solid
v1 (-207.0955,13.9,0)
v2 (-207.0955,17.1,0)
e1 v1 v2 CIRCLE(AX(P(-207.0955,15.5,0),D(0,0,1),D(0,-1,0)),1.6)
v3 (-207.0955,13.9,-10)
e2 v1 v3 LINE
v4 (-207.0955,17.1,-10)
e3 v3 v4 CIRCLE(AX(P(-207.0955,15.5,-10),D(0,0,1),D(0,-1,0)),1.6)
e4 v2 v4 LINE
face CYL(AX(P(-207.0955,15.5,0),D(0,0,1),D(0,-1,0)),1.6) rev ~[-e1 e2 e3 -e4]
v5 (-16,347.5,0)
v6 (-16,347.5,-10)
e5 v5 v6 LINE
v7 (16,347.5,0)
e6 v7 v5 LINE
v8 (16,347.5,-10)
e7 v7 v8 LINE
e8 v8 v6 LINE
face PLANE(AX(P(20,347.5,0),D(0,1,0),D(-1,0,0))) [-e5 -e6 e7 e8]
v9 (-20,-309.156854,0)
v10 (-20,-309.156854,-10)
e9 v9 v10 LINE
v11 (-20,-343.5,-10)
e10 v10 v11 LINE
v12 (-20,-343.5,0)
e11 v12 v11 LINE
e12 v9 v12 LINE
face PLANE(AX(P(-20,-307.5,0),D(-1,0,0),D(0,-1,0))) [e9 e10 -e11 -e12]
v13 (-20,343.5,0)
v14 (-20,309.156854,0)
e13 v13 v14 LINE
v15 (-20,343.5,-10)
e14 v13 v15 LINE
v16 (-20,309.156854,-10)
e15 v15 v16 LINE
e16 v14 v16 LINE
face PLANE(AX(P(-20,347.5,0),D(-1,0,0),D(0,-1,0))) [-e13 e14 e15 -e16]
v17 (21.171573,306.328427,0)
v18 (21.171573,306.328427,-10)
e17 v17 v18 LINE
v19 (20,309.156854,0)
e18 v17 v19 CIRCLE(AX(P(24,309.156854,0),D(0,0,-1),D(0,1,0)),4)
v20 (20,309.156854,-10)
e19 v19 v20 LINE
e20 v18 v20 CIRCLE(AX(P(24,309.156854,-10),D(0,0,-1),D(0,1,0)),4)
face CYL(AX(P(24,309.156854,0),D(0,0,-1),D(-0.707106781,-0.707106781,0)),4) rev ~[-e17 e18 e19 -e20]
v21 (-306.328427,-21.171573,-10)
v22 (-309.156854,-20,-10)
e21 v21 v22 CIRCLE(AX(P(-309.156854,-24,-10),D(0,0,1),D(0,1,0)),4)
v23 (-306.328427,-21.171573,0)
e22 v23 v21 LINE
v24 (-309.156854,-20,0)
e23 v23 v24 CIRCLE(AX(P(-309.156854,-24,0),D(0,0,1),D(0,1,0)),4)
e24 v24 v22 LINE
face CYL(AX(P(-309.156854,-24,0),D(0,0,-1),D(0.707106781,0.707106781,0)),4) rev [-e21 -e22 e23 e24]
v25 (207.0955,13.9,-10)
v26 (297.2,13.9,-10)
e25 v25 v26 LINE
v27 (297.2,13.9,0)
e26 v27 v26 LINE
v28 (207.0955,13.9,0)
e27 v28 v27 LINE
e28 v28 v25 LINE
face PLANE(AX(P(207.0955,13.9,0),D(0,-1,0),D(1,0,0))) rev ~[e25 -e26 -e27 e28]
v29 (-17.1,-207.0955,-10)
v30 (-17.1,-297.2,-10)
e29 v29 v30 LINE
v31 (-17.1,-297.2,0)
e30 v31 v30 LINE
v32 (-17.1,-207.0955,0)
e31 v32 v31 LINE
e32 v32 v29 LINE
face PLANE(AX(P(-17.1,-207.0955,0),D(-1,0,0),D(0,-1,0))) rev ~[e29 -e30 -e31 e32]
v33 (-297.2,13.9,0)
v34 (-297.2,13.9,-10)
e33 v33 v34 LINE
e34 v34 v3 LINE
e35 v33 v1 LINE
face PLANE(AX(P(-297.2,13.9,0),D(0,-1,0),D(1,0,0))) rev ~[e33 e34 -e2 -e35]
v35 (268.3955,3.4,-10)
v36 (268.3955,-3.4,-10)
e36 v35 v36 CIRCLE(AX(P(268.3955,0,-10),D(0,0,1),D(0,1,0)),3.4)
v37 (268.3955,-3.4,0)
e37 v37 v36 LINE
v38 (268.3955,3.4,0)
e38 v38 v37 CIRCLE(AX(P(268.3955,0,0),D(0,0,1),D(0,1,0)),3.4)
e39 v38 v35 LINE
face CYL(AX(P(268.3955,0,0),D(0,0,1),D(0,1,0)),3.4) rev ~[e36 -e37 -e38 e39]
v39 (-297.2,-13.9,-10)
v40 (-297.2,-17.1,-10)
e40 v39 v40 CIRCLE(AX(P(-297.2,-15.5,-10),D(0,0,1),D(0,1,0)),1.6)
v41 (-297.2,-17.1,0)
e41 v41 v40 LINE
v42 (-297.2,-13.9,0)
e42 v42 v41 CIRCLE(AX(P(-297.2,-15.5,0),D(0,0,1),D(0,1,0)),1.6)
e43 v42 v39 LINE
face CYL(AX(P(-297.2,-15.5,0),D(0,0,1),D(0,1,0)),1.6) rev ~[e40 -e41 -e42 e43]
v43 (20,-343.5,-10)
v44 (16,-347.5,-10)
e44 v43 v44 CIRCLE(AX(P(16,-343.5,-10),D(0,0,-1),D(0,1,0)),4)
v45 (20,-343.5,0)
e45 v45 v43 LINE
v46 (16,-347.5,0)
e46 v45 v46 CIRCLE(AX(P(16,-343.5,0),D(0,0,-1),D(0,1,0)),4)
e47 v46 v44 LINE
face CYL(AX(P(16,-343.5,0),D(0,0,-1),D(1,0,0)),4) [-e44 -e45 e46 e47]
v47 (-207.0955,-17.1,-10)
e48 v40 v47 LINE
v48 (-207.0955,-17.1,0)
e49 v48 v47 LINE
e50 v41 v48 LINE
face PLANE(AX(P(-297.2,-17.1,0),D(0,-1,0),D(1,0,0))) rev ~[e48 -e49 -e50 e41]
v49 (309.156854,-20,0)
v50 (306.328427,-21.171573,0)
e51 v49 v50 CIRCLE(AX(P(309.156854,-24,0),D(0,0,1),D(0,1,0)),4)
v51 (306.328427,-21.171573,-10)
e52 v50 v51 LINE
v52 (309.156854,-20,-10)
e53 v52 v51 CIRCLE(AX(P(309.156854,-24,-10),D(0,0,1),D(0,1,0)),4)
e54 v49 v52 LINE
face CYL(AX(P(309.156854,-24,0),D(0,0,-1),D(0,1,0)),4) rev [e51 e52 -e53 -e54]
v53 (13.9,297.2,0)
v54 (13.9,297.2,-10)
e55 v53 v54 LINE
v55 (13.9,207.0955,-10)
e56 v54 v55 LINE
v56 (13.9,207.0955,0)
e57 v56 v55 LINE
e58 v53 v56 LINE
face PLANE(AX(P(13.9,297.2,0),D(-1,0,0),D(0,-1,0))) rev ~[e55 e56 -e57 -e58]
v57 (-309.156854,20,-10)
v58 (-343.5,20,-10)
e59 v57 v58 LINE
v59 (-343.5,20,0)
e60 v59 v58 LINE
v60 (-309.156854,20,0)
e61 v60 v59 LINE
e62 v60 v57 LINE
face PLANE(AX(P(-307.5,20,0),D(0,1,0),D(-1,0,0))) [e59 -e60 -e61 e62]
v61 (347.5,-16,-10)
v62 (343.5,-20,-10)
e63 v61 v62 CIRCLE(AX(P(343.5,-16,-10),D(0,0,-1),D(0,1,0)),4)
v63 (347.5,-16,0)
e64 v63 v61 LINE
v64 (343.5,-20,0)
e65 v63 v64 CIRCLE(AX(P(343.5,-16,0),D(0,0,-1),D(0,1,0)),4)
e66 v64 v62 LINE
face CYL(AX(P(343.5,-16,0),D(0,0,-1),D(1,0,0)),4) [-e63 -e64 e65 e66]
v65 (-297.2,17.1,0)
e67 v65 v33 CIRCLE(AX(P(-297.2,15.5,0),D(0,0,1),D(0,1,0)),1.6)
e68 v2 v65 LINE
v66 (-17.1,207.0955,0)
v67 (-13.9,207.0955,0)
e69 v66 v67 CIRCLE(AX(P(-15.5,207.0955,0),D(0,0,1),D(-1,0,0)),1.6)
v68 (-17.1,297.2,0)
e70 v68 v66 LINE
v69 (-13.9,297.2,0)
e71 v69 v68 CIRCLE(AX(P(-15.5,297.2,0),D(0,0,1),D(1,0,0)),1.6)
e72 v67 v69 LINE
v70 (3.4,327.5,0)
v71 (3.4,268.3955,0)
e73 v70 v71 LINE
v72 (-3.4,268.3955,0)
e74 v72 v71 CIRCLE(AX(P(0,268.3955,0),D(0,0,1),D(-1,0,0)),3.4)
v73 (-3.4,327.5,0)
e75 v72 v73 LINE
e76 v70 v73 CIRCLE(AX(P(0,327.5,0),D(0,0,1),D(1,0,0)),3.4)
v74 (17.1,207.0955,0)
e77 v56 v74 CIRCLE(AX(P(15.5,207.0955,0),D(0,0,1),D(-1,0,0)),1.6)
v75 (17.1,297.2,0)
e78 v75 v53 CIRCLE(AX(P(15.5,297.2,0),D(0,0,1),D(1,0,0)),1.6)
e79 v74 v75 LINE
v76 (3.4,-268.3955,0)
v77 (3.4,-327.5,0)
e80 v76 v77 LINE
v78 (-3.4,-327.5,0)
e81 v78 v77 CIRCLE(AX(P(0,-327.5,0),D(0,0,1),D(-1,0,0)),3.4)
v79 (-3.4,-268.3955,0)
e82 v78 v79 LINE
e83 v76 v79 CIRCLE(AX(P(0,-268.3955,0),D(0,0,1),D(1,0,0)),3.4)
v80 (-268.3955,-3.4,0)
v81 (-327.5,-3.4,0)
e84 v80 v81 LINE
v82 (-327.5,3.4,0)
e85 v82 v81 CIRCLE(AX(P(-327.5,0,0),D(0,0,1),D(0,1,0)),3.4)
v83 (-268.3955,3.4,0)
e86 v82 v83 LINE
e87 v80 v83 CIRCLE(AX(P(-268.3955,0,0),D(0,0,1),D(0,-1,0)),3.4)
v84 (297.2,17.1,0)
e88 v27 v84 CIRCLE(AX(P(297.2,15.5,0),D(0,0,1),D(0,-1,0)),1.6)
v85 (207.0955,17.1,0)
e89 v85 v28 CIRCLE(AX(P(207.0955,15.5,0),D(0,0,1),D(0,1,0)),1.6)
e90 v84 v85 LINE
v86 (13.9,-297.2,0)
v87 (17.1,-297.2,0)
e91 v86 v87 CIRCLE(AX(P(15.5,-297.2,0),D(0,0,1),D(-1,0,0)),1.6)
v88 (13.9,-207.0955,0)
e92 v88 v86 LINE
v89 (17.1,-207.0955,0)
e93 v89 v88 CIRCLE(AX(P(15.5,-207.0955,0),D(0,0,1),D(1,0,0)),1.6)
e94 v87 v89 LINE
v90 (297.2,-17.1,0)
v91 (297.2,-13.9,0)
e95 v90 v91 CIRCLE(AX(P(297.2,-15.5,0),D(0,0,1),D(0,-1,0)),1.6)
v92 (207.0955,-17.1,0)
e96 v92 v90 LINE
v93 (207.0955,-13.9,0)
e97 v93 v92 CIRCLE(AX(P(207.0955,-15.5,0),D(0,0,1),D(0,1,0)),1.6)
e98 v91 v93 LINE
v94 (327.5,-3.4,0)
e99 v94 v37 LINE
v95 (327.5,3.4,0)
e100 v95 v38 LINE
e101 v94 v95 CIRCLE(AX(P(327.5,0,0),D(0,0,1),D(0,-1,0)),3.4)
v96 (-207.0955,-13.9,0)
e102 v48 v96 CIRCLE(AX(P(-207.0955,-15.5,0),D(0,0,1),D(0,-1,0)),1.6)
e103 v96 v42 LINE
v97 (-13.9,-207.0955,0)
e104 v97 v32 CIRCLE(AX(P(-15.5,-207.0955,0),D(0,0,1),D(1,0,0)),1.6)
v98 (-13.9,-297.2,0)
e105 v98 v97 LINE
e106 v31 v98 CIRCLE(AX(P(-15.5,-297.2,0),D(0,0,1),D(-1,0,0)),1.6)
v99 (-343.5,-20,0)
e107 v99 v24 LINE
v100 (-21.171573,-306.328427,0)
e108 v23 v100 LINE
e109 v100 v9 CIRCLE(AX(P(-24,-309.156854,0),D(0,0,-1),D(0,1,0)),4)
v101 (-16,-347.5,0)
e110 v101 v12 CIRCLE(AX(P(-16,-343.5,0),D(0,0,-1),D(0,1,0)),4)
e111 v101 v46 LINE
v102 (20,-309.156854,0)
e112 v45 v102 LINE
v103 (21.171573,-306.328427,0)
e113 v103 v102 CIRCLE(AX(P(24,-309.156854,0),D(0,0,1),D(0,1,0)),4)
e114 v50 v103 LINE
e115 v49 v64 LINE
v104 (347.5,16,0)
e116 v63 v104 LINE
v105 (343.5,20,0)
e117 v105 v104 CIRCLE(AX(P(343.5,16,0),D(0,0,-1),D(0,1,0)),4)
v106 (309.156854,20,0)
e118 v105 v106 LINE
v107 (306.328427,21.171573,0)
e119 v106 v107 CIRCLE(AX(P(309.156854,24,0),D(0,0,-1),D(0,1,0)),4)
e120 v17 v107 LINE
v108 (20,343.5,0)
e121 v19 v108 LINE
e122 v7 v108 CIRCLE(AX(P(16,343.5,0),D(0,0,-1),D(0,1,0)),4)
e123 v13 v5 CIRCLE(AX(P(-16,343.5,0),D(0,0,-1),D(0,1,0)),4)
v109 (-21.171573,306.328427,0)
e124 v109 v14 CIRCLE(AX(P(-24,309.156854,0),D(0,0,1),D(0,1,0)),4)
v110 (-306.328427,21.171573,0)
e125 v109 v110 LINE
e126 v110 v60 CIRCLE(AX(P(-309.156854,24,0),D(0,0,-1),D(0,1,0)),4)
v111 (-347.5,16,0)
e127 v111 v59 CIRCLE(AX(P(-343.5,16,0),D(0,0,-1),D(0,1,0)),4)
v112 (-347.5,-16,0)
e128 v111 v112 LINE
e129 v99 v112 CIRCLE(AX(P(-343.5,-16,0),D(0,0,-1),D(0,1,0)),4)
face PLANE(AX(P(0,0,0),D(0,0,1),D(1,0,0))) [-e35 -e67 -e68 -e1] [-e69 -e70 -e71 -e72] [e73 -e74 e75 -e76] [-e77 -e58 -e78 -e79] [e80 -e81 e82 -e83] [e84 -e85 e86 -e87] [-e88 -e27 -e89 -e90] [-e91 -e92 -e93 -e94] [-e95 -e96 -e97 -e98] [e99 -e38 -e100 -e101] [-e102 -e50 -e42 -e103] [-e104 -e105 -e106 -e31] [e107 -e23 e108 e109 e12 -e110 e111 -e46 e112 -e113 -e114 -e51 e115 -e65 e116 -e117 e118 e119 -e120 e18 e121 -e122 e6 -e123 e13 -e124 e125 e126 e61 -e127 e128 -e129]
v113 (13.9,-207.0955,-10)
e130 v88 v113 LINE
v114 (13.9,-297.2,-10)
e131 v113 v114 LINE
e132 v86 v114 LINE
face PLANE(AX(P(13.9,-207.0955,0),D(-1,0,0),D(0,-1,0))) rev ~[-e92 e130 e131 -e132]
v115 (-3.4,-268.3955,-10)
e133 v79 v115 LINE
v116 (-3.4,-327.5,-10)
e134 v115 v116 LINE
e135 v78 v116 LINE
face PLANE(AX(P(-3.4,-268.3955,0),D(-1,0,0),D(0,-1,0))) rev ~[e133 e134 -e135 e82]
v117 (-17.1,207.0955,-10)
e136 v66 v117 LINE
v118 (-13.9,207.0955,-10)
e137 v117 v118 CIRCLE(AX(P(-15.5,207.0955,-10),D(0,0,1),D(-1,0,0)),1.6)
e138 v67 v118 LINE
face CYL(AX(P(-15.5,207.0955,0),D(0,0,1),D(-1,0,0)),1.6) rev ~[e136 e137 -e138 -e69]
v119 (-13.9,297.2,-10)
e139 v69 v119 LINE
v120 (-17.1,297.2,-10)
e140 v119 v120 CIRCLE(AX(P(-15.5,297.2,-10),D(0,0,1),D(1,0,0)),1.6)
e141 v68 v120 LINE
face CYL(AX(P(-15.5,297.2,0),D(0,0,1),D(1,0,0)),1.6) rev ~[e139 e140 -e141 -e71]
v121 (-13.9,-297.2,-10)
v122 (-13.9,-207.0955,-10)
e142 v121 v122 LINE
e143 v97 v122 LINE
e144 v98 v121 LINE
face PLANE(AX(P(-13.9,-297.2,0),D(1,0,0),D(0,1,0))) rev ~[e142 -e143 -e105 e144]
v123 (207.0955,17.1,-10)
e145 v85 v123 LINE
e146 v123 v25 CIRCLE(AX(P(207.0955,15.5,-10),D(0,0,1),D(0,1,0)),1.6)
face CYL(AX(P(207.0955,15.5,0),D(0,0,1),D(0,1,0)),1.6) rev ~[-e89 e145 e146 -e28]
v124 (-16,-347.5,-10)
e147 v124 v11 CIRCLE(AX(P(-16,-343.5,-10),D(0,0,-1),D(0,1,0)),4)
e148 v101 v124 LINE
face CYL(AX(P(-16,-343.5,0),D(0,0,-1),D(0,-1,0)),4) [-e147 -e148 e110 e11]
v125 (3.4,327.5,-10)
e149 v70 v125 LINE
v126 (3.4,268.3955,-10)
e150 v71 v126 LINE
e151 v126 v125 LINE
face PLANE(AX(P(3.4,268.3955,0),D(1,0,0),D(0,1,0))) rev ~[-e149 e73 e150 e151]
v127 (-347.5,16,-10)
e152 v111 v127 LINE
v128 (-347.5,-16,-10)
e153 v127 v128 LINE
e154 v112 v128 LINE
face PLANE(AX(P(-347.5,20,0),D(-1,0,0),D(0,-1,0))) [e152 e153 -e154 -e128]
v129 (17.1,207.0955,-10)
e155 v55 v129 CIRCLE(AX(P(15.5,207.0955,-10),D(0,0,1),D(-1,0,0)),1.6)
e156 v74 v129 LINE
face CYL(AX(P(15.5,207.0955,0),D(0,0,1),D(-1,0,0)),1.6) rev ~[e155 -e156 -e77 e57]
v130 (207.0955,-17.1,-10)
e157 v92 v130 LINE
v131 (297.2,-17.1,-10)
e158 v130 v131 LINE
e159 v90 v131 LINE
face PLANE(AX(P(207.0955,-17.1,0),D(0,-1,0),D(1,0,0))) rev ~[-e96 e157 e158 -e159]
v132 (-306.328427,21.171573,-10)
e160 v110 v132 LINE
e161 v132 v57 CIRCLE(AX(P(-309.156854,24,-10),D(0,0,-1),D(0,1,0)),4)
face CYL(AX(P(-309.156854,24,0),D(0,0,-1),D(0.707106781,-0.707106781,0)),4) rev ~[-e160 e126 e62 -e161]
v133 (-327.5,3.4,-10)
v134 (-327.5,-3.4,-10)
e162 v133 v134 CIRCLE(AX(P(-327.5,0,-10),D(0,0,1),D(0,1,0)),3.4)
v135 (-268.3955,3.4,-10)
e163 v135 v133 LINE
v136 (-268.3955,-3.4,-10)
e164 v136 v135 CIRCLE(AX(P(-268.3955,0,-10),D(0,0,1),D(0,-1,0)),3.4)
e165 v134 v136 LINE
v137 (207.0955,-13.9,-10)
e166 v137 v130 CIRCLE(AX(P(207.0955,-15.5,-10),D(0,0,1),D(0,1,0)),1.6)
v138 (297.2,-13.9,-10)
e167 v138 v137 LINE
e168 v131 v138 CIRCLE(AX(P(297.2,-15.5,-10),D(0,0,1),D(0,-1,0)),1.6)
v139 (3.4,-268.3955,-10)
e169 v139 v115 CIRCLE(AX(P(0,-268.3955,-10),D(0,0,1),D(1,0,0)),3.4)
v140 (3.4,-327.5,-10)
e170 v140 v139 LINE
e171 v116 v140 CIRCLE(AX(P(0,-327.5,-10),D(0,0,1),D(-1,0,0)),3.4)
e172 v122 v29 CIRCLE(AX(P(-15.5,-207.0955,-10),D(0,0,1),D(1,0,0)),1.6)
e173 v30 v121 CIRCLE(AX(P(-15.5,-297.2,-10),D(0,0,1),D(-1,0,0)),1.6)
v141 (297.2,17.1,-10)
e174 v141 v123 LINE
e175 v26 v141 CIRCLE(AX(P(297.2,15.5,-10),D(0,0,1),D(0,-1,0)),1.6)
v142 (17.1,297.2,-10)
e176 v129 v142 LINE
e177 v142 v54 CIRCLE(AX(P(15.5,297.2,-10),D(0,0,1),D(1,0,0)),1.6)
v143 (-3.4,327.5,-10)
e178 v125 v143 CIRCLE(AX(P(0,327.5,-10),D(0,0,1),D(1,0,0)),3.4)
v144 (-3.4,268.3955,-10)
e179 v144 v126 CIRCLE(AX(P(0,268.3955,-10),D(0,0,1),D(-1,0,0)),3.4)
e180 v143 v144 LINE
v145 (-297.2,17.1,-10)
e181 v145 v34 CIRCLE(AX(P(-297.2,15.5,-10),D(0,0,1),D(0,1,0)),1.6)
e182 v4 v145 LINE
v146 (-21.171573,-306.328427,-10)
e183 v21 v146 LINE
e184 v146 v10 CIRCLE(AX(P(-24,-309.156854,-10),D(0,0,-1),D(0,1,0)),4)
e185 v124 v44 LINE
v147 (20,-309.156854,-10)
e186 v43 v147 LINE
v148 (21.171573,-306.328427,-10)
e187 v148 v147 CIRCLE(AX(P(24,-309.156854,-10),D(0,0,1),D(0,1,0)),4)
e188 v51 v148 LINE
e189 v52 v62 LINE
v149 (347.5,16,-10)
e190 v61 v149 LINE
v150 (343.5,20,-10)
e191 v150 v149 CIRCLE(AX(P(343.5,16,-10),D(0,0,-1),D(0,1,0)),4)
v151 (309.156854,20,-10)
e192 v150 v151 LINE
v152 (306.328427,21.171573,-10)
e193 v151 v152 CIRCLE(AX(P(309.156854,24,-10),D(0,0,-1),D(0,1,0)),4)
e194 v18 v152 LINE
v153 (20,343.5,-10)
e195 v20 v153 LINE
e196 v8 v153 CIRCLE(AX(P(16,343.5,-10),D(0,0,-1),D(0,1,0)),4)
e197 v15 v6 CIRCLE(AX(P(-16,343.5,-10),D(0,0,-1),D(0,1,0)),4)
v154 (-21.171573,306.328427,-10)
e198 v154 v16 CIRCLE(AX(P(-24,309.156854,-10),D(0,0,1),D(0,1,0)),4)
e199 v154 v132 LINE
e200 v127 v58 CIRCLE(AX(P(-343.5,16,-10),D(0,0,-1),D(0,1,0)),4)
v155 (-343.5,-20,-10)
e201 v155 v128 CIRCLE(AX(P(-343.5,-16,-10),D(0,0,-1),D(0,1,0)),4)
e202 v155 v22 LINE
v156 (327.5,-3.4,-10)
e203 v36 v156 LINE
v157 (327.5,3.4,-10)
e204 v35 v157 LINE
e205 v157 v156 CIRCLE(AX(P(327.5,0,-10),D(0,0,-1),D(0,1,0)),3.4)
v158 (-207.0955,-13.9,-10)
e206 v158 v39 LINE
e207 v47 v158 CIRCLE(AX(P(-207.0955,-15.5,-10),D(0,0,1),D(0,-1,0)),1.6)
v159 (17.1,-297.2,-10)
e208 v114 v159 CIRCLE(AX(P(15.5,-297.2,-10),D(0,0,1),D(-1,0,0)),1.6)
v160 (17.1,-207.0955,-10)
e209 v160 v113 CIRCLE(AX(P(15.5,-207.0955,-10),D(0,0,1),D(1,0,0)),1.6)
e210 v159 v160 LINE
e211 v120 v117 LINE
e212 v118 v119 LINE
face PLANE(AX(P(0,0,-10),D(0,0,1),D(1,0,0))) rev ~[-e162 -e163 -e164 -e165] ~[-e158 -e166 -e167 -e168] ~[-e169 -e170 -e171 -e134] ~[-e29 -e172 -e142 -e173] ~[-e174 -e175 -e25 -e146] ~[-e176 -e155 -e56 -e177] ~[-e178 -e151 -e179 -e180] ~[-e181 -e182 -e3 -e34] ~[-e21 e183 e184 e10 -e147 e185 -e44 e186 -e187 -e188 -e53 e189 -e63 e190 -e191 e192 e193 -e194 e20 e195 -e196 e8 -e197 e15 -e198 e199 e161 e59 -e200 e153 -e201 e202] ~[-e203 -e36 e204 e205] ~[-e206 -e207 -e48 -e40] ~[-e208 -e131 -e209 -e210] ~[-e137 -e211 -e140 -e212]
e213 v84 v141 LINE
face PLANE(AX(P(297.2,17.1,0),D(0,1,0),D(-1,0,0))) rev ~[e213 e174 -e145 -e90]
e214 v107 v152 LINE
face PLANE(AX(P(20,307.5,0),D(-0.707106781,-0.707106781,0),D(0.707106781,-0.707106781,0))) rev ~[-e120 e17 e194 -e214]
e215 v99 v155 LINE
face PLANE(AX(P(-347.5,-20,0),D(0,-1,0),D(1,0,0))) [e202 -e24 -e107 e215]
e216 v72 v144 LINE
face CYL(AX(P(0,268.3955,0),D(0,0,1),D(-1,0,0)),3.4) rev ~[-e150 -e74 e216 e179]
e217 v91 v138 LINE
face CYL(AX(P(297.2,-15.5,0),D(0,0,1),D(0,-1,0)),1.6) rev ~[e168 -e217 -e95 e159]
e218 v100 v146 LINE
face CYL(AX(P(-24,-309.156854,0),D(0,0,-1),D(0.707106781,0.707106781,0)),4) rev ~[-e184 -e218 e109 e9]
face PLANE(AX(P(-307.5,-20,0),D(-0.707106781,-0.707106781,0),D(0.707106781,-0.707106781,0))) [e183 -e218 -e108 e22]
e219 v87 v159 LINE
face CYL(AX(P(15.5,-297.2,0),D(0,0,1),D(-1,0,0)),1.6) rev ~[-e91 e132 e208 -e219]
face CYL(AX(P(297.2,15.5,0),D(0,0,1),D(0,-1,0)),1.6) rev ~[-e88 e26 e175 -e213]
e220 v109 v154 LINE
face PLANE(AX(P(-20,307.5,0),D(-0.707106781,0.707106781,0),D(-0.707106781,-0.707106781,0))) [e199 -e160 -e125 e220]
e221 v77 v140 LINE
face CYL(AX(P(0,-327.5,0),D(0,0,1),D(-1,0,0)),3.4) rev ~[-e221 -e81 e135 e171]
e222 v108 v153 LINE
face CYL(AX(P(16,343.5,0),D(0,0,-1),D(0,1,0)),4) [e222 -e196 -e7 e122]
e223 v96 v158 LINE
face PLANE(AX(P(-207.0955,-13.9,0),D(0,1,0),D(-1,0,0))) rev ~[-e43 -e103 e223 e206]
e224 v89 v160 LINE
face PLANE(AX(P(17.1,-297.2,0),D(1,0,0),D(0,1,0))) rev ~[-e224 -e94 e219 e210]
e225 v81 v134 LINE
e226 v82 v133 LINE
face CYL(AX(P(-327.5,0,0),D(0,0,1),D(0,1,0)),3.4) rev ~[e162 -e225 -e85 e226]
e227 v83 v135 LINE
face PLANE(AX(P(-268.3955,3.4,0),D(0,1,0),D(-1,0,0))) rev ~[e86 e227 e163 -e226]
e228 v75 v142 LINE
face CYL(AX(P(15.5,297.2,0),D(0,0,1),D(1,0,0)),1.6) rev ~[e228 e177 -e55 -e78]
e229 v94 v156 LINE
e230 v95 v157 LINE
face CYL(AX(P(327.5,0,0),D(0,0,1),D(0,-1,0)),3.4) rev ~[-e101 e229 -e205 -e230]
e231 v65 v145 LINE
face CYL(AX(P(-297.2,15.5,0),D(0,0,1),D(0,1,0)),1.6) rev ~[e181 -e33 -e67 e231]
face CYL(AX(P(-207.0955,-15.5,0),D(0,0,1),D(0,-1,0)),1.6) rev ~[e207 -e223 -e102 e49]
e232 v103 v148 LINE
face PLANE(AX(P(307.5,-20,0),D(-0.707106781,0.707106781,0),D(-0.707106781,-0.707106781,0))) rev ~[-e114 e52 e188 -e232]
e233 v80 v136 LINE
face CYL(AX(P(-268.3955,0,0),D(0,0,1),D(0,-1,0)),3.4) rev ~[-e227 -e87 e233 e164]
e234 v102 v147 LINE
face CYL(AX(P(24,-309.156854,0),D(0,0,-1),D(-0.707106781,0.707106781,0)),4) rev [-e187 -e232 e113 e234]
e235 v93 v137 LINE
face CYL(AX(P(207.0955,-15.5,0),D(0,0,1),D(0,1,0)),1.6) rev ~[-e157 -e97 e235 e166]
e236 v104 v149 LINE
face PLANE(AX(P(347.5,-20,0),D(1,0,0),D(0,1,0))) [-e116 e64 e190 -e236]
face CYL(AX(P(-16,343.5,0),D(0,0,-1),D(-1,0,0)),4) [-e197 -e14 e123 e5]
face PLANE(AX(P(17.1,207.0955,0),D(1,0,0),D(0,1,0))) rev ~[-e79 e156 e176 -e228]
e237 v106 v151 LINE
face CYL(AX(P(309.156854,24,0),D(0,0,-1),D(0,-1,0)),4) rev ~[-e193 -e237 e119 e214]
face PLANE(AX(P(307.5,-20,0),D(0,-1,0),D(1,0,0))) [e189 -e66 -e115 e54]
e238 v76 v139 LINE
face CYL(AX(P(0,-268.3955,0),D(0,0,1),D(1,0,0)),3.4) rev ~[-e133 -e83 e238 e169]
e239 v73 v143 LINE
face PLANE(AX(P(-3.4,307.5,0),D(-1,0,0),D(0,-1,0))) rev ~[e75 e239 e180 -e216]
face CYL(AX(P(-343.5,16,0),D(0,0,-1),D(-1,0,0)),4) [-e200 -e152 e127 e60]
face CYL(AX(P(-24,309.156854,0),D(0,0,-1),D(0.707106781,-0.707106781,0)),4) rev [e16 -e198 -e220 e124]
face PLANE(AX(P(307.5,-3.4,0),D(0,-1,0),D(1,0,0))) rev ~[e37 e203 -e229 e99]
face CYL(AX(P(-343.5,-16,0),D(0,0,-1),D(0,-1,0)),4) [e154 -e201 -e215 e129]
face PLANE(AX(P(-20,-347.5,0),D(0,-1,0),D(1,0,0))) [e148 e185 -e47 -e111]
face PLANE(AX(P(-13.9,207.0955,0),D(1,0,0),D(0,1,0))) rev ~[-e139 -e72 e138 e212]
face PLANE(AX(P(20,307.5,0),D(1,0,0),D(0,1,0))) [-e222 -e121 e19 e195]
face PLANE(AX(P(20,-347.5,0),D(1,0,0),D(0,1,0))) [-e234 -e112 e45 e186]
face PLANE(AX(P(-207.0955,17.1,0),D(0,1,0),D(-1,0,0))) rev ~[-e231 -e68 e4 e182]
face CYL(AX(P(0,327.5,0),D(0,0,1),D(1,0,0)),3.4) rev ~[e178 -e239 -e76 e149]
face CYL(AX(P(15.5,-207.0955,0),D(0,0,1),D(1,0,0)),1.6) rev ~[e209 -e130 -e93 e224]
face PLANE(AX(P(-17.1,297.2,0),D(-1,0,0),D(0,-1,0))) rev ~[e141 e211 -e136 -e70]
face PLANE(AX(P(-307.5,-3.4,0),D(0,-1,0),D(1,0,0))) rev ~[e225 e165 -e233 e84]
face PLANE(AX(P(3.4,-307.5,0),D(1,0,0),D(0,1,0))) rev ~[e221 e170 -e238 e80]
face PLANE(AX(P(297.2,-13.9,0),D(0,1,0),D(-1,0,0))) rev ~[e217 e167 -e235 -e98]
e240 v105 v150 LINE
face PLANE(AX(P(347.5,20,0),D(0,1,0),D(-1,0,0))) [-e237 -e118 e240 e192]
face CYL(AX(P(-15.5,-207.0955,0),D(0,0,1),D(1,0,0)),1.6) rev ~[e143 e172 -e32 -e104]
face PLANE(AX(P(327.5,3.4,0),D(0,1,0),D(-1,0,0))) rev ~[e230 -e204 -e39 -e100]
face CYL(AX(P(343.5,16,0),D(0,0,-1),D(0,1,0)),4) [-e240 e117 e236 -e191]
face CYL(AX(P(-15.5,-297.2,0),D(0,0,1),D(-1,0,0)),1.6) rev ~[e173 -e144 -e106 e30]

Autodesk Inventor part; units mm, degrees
ref_plane "YZ Plane" through (0, 0, 0) normal (1, 0, 0) x (0, 1, 0)
ref_plane "XZ Plane" through (0, 0, 0) normal (0, 1, 0) x (-1, 0, 0)
ref_plane "XY Plane" through (0, 0, 0) normal (0, 0, 1) x (1, 0, 0)
sketch "Sketch2" plane through (0, 0, 0) normal (0, 0, 1) x (1, 0, 0)
  circle A0 centre (0, 0) radius 327.5 construction
  line L0 (260.6, -21.1) -> (302.8, -21.1) construction
  line L1 (302.8, -21.1) -> (302.8, 21.1) construction
  line L2 (302.8, 21.1) -> (260.6, 21.1) construction
  line L3 (260.6, 21.1) -> (260.6, -21.1) construction
  line L4 (260.6, -21.1) -> (302.8, 21.1) construction
  line L5 (302.8, -21.1) -> (260.6, 21.1) construction
  line L6 (297.2, 15.5) -> (207.0955, 15.5) construction
  line L7 (297.2, 17.1) -> (207.0955, 17.1)
  line L8 (207.0955, 13.9) -> (297.2, 13.9)
  arc A1 (297.2, 13.9) -> (297.2, 17.1) centre (297.2, 15.5) ccw
  arc A2 (207.0955, 17.1) -> (207.0955, 13.9) centre (207.0955, 15.5) ccw
  line L9 (297.2, -15.5) -> (207.0955, -15.5) construction
  line L10 (297.2, -13.9) -> (207.0955, -13.9)
  line L11 (207.0955, -17.1) -> (297.2, -17.1)
  arc A3 (297.2, -17.1) -> (297.2, -13.9) centre (297.2, -15.5) ccw
  arc A4 (207.0955, -13.9) -> (207.0955, -17.1) centre (207.0955, -15.5) ccw
  line L12 (327.5, 0) -> (268.3955, 0) construction
  line L13 (327.5, 3.4) -> (268.3955, 3.4)
  line L14 (268.3955, -3.4) -> (327.5, -3.4)
  arc A5 (327.5, -3.4) -> (327.5, 3.4) centre (327.5, 0) ccw
  arc A6 (268.3955, 3.4) -> (268.3955, -3.4) centre (268.3955, 0) ccw
  line L15 (307.5, -20) -> (347.5, -20)
  line L16 (347.5, -20) -> (347.5, 20)
  line L17 (347.5, 20) -> (307.5, 20)
  line L18 (307.5, 20) -> (307.5, -20)
  line L19 (307.5, -20) -> (347.5, 20) construction
  line L20 (347.5, -20) -> (307.5, 20) construction
  circle A7 centre (327.5, 0) radius 3.4
  arc A8 (-3.4, 268.3955) -> (3.4, 268.3955) centre (0, 268.3955) ccw
  line L21 (-13.9, 207.0955) -> (-13.9, 297.2)
  line L22 (-17.1, 297.2) -> (-17.1, 207.0955)
  line L23 (-15.5, 297.2) -> (-15.5, 207.0955) construction
  line L24 (17.1, 207.0955) -> (17.1, 297.2)
  line L25 (15.5, 297.2) -> (15.5, 207.0955) construction
  line L26 (13.9, 297.2) -> (13.9, 207.0955)
  arc A9 (-17.1, 207.0955) -> (-13.9, 207.0955) centre (-15.5, 207.0955) ccw
  arc A10 (13.9, 207.0955) -> (17.1, 207.0955) centre (15.5, 207.0955) ccw
  line L27 (21.1, 302.8) -> (-21.1, 302.8) construction
  arc A11 (-13.9, 297.2) -> (-17.1, 297.2) centre (-15.5, 297.2) ccw
  arc A12 (17.1, 297.2) -> (13.9, 297.2) centre (15.5, 297.2) ccw
  line L28 (0, 327.5) -> (0, 268.3955) construction
  line L29 (-3.4, 327.5) -> (-3.4, 268.3955)
  line L30 (3.4, 268.3955) -> (3.4, 327.5)
  line L31 (21.1, 260.6) -> (21.1, 302.8) construction
  line L32 (21.1, 302.8) -> (-21.1, 260.6) construction
  line L33 (-21.1, 260.6) -> (21.1, 260.6) construction
  line L34 (21.1, 260.6) -> (-21.1, 302.8) construction
  line L35 (-21.1, 302.8) -> (-21.1, 260.6) construction
  line L36 (-20, 307.5) -> (20, 307.5)
  arc A13 (3.4, 327.5) -> (-3.4, 327.5) centre (0, 327.5) ccw
  circle A14 centre (0, 327.5) radius 3.4
  line L37 (20, 307.5) -> (20, 347.5)
  line L38 (-20, 347.5) -> (-20, 307.5)
  line L39 (20, 307.5) -> (-20, 347.5) construction
  line L40 (20, 347.5) -> (-20, 307.5) construction
  line L41 (20, 347.5) -> (-20, 347.5)
  arc A15 (-268.3955, -3.4) -> (-268.3955, 3.4) centre (-268.3955, 0) ccw
  line L42 (-207.0955, -13.9) -> (-297.2, -13.9)
  line L43 (-297.2, -17.1) -> (-207.0955, -17.1)
  line L44 (-297.2, -15.5) -> (-207.0955, -15.5) construction
  line L45 (-207.0955, 17.1) -> (-297.2, 17.1)
  line L46 (-297.2, 15.5) -> (-207.0955, 15.5) construction
  line L47 (-297.2, 13.9) -> (-207.0955, 13.9)
  arc A16 (-207.0955, -17.1) -> (-207.0955, -13.9) centre (-207.0955, -15.5) ccw
  arc A17 (-207.0955, 13.9) -> (-207.0955, 17.1) centre (-207.0955, 15.5) ccw
  line L48 (-302.8, 21.1) -> (-302.8, -21.1) construction
  arc A18 (-297.2, -13.9) -> (-297.2, -17.1) centre (-297.2, -15.5) ccw
  arc A19 (-297.2, 17.1) -> (-297.2, 13.9) centre (-297.2, 15.5) ccw
  line L49 (-327.5, 0) -> (-268.3955, 0) construction
  line L50 (-327.5, -3.4) -> (-268.3955, -3.4)
  line L51 (-268.3955, 3.4) -> (-327.5, 3.4)
  line L52 (-260.6, 21.1) -> (-302.8, 21.1) construction
  line L53 (-302.8, 21.1) -> (-260.6, -21.1) construction
  line L54 (-260.6, -21.1) -> (-260.6, 21.1) construction
  line L55 (-260.6, 21.1) -> (-302.8, -21.1) construction
  line L56 (-302.8, -21.1) -> (-260.6, -21.1) construction
  line L57 (-307.5, -20) -> (-307.5, 20)
  arc A20 (-327.5, 3.4) -> (-327.5, -3.4) centre (-327.5, 0) ccw
  circle A21 centre (-327.5, 0) radius 3.4
  line L58 (-307.5, 20) -> (-347.5, 20)
  line L59 (-347.5, -20) -> (-307.5, -20)
  line L60 (-307.5, 20) -> (-347.5, -20) construction
  line L61 (-347.5, 20) -> (-307.5, -20) construction
  line L62 (-347.5, 20) -> (-347.5, -20)
  arc A22 (3.4, -268.3955) -> (-3.4, -268.3955) centre (0, -268.3955) ccw
  line L63 (13.9, -207.0955) -> (13.9, -297.2)
  line L64 (17.1, -297.2) -> (17.1, -207.0955)
  line L65 (15.5, -297.2) -> (15.5, -207.0955) construction
  line L66 (-17.1, -207.0955) -> (-17.1, -297.2)
  line L67 (-15.5, -297.2) -> (-15.5, -207.0955) construction
  line L68 (-13.9, -297.2) -> (-13.9, -207.0955)
  arc A23 (17.1, -207.0955) -> (13.9, -207.0955) centre (15.5, -207.0955) ccw
  arc A24 (-13.9, -207.0955) -> (-17.1, -207.0955) centre (-15.5, -207.0955) ccw
  line L69 (-21.1, -302.8) -> (21.1, -302.8) construction
  arc A25 (13.9, -297.2) -> (17.1, -297.2) centre (15.5, -297.2) ccw
  arc A26 (-17.1, -297.2) -> (-13.9, -297.2) centre (-15.5, -297.2) ccw
  line L70 (0, -327.5) -> (0, -268.3955) construction
  line L71 (3.4, -327.5) -> (3.4, -268.3955)
  line L72 (-3.4, -268.3955) -> (-3.4, -327.5)
  line L73 (-21.1, -260.6) -> (-21.1, -302.8) construction
  line L74 (-21.1, -302.8) -> (21.1, -260.6) construction
  line L75 (21.1, -260.6) -> (-21.1, -260.6) construction
  line L76 (-21.1, -260.6) -> (21.1, -302.8) construction
  line L77 (21.1, -302.8) -> (21.1, -260.6) construction
  line L78 (20, -307.5) -> (-20, -307.5)
  arc A27 (-3.4, -327.5) -> (3.4, -327.5) centre (0, -327.5) ccw
  circle A28 centre (0, -327.5) radius 3.4
  line L79 (-20, -307.5) -> (-20, -347.5)
  line L80 (20, -347.5) -> (20, -307.5)
  line L81 (-20, -307.5) -> (20, -347.5) construction
  line L82 (-20, -347.5) -> (20, -307.5) construction
  line L83 (-20, -347.5) -> (20, -347.5)
  line L84 (-20, 307.5) -> (-307.5, 20)
  line L85 (-307.5, -20) -> (-20, -307.5)
  line L86 (307.5, -20) -> (20, -307.5)
  line L87 (20, 307.5) -> (307.5, 20)
  point P0 (281.7, 0)
  point P1 (252.1478, 15.5)
  point P2 (252.1478, -15.5)
  point P3 (297.9478, 0)
  point P4 (15.5, 252.1478)
  point P5 (0, 281.7)
  point P6 (-15.5, 252.1478)
  point P7 (0, 297.9478)
  point P8 (-252.1478, 15.5)
  point P9 (-281.7, 0)
  point P10 (-252.1478, -15.5)
  point P11 (-297.9478, 0)
  point P12 (-15.5, -252.1478)
  point P13 (0, -281.7)
  point P14 (15.5, -252.1478)
  point P15 (0, -297.9478)
  dimension "d26" = 655
  dimension "d110" = 42.2
  dimension "d113" = 42.2
  dimension "d114" = 3.2
  dimension "d115" = 90.1045
  dimension "d116" = 5.6
  dimension "d117" = 3.2
  dimension "d118" = 5.6
  dimension "d119" = 90.1045
  dimension "d122" = 59.1045
  dimension "d123" = 6.8
  dimension "d134" = 40
  dimension "d135" = 40
  dimension "d136" = 6.8
  dimension "d137" = 327.5
  dimension "d138" = 4.7
  dimension "d141" = 360
extrude "Extrusion9" add sketch "Sketch2" against normal blind 10 contours L13 L18 L17 L16 L15 L14 A5 | L13 A6 L14 L18 L86 L78 L71 A22 L72 L85 L57 L50 A15 L51 L84 L36 L29 A8 L30 L87 | L36 L30 A13 L29 L38 L41 L37 | L80 L83 L79 L78 L72 A27 L71 | L57 L51 A20 L50 L59 L62 L58
fillet "Fillet7" radius 4 16 edges at (20, 347.5, -5) (20, 307.5, -5) (-20, 347.5, -5) (-20, 307.5, -5) (-347.5, 20, -5) (-307.5, 20, -5) (-347.5, -20, -5) (-307.5, -20, -5) (-20, -347.5, -5) (-20, -307.5, -5) (347.5, -20, -5) (20, -347.5, -5) (307.5, 20, -5) (347.5, 20, -5) (20, -307.5, -5) (307.5, -20, -5)
equation "\"d26\" = ring_outer_diam + bar_width"
equation "\"ring_inner_diam\" = 565"
equation "\"bar_width\" = 40"
equation "\"bar_hole_diam\" = 6.8"
equation "\"ring_outer_diam\" = 615"
equation "\"motor_width\" = 42.2"
equation "\"dist_motor_bar\" = 4.7"
equation "\"motor_slot_diam\" = 3.2"
equation "\"motor_hole_edge_dist\" = 5.6"
equation "\"motor_slot_length\" = 90.1045"
equation "\"bar_slot_diam\" = 6.8"
equation "\"bar_slot_length\" = 59.1045"
equation "\"dist_motor_holes\" = 31"
equation "\"diag_dist_bar_holes_old_fridge\" = 536.791"
properties part number "base_plate" material "Aluminum 6061"
